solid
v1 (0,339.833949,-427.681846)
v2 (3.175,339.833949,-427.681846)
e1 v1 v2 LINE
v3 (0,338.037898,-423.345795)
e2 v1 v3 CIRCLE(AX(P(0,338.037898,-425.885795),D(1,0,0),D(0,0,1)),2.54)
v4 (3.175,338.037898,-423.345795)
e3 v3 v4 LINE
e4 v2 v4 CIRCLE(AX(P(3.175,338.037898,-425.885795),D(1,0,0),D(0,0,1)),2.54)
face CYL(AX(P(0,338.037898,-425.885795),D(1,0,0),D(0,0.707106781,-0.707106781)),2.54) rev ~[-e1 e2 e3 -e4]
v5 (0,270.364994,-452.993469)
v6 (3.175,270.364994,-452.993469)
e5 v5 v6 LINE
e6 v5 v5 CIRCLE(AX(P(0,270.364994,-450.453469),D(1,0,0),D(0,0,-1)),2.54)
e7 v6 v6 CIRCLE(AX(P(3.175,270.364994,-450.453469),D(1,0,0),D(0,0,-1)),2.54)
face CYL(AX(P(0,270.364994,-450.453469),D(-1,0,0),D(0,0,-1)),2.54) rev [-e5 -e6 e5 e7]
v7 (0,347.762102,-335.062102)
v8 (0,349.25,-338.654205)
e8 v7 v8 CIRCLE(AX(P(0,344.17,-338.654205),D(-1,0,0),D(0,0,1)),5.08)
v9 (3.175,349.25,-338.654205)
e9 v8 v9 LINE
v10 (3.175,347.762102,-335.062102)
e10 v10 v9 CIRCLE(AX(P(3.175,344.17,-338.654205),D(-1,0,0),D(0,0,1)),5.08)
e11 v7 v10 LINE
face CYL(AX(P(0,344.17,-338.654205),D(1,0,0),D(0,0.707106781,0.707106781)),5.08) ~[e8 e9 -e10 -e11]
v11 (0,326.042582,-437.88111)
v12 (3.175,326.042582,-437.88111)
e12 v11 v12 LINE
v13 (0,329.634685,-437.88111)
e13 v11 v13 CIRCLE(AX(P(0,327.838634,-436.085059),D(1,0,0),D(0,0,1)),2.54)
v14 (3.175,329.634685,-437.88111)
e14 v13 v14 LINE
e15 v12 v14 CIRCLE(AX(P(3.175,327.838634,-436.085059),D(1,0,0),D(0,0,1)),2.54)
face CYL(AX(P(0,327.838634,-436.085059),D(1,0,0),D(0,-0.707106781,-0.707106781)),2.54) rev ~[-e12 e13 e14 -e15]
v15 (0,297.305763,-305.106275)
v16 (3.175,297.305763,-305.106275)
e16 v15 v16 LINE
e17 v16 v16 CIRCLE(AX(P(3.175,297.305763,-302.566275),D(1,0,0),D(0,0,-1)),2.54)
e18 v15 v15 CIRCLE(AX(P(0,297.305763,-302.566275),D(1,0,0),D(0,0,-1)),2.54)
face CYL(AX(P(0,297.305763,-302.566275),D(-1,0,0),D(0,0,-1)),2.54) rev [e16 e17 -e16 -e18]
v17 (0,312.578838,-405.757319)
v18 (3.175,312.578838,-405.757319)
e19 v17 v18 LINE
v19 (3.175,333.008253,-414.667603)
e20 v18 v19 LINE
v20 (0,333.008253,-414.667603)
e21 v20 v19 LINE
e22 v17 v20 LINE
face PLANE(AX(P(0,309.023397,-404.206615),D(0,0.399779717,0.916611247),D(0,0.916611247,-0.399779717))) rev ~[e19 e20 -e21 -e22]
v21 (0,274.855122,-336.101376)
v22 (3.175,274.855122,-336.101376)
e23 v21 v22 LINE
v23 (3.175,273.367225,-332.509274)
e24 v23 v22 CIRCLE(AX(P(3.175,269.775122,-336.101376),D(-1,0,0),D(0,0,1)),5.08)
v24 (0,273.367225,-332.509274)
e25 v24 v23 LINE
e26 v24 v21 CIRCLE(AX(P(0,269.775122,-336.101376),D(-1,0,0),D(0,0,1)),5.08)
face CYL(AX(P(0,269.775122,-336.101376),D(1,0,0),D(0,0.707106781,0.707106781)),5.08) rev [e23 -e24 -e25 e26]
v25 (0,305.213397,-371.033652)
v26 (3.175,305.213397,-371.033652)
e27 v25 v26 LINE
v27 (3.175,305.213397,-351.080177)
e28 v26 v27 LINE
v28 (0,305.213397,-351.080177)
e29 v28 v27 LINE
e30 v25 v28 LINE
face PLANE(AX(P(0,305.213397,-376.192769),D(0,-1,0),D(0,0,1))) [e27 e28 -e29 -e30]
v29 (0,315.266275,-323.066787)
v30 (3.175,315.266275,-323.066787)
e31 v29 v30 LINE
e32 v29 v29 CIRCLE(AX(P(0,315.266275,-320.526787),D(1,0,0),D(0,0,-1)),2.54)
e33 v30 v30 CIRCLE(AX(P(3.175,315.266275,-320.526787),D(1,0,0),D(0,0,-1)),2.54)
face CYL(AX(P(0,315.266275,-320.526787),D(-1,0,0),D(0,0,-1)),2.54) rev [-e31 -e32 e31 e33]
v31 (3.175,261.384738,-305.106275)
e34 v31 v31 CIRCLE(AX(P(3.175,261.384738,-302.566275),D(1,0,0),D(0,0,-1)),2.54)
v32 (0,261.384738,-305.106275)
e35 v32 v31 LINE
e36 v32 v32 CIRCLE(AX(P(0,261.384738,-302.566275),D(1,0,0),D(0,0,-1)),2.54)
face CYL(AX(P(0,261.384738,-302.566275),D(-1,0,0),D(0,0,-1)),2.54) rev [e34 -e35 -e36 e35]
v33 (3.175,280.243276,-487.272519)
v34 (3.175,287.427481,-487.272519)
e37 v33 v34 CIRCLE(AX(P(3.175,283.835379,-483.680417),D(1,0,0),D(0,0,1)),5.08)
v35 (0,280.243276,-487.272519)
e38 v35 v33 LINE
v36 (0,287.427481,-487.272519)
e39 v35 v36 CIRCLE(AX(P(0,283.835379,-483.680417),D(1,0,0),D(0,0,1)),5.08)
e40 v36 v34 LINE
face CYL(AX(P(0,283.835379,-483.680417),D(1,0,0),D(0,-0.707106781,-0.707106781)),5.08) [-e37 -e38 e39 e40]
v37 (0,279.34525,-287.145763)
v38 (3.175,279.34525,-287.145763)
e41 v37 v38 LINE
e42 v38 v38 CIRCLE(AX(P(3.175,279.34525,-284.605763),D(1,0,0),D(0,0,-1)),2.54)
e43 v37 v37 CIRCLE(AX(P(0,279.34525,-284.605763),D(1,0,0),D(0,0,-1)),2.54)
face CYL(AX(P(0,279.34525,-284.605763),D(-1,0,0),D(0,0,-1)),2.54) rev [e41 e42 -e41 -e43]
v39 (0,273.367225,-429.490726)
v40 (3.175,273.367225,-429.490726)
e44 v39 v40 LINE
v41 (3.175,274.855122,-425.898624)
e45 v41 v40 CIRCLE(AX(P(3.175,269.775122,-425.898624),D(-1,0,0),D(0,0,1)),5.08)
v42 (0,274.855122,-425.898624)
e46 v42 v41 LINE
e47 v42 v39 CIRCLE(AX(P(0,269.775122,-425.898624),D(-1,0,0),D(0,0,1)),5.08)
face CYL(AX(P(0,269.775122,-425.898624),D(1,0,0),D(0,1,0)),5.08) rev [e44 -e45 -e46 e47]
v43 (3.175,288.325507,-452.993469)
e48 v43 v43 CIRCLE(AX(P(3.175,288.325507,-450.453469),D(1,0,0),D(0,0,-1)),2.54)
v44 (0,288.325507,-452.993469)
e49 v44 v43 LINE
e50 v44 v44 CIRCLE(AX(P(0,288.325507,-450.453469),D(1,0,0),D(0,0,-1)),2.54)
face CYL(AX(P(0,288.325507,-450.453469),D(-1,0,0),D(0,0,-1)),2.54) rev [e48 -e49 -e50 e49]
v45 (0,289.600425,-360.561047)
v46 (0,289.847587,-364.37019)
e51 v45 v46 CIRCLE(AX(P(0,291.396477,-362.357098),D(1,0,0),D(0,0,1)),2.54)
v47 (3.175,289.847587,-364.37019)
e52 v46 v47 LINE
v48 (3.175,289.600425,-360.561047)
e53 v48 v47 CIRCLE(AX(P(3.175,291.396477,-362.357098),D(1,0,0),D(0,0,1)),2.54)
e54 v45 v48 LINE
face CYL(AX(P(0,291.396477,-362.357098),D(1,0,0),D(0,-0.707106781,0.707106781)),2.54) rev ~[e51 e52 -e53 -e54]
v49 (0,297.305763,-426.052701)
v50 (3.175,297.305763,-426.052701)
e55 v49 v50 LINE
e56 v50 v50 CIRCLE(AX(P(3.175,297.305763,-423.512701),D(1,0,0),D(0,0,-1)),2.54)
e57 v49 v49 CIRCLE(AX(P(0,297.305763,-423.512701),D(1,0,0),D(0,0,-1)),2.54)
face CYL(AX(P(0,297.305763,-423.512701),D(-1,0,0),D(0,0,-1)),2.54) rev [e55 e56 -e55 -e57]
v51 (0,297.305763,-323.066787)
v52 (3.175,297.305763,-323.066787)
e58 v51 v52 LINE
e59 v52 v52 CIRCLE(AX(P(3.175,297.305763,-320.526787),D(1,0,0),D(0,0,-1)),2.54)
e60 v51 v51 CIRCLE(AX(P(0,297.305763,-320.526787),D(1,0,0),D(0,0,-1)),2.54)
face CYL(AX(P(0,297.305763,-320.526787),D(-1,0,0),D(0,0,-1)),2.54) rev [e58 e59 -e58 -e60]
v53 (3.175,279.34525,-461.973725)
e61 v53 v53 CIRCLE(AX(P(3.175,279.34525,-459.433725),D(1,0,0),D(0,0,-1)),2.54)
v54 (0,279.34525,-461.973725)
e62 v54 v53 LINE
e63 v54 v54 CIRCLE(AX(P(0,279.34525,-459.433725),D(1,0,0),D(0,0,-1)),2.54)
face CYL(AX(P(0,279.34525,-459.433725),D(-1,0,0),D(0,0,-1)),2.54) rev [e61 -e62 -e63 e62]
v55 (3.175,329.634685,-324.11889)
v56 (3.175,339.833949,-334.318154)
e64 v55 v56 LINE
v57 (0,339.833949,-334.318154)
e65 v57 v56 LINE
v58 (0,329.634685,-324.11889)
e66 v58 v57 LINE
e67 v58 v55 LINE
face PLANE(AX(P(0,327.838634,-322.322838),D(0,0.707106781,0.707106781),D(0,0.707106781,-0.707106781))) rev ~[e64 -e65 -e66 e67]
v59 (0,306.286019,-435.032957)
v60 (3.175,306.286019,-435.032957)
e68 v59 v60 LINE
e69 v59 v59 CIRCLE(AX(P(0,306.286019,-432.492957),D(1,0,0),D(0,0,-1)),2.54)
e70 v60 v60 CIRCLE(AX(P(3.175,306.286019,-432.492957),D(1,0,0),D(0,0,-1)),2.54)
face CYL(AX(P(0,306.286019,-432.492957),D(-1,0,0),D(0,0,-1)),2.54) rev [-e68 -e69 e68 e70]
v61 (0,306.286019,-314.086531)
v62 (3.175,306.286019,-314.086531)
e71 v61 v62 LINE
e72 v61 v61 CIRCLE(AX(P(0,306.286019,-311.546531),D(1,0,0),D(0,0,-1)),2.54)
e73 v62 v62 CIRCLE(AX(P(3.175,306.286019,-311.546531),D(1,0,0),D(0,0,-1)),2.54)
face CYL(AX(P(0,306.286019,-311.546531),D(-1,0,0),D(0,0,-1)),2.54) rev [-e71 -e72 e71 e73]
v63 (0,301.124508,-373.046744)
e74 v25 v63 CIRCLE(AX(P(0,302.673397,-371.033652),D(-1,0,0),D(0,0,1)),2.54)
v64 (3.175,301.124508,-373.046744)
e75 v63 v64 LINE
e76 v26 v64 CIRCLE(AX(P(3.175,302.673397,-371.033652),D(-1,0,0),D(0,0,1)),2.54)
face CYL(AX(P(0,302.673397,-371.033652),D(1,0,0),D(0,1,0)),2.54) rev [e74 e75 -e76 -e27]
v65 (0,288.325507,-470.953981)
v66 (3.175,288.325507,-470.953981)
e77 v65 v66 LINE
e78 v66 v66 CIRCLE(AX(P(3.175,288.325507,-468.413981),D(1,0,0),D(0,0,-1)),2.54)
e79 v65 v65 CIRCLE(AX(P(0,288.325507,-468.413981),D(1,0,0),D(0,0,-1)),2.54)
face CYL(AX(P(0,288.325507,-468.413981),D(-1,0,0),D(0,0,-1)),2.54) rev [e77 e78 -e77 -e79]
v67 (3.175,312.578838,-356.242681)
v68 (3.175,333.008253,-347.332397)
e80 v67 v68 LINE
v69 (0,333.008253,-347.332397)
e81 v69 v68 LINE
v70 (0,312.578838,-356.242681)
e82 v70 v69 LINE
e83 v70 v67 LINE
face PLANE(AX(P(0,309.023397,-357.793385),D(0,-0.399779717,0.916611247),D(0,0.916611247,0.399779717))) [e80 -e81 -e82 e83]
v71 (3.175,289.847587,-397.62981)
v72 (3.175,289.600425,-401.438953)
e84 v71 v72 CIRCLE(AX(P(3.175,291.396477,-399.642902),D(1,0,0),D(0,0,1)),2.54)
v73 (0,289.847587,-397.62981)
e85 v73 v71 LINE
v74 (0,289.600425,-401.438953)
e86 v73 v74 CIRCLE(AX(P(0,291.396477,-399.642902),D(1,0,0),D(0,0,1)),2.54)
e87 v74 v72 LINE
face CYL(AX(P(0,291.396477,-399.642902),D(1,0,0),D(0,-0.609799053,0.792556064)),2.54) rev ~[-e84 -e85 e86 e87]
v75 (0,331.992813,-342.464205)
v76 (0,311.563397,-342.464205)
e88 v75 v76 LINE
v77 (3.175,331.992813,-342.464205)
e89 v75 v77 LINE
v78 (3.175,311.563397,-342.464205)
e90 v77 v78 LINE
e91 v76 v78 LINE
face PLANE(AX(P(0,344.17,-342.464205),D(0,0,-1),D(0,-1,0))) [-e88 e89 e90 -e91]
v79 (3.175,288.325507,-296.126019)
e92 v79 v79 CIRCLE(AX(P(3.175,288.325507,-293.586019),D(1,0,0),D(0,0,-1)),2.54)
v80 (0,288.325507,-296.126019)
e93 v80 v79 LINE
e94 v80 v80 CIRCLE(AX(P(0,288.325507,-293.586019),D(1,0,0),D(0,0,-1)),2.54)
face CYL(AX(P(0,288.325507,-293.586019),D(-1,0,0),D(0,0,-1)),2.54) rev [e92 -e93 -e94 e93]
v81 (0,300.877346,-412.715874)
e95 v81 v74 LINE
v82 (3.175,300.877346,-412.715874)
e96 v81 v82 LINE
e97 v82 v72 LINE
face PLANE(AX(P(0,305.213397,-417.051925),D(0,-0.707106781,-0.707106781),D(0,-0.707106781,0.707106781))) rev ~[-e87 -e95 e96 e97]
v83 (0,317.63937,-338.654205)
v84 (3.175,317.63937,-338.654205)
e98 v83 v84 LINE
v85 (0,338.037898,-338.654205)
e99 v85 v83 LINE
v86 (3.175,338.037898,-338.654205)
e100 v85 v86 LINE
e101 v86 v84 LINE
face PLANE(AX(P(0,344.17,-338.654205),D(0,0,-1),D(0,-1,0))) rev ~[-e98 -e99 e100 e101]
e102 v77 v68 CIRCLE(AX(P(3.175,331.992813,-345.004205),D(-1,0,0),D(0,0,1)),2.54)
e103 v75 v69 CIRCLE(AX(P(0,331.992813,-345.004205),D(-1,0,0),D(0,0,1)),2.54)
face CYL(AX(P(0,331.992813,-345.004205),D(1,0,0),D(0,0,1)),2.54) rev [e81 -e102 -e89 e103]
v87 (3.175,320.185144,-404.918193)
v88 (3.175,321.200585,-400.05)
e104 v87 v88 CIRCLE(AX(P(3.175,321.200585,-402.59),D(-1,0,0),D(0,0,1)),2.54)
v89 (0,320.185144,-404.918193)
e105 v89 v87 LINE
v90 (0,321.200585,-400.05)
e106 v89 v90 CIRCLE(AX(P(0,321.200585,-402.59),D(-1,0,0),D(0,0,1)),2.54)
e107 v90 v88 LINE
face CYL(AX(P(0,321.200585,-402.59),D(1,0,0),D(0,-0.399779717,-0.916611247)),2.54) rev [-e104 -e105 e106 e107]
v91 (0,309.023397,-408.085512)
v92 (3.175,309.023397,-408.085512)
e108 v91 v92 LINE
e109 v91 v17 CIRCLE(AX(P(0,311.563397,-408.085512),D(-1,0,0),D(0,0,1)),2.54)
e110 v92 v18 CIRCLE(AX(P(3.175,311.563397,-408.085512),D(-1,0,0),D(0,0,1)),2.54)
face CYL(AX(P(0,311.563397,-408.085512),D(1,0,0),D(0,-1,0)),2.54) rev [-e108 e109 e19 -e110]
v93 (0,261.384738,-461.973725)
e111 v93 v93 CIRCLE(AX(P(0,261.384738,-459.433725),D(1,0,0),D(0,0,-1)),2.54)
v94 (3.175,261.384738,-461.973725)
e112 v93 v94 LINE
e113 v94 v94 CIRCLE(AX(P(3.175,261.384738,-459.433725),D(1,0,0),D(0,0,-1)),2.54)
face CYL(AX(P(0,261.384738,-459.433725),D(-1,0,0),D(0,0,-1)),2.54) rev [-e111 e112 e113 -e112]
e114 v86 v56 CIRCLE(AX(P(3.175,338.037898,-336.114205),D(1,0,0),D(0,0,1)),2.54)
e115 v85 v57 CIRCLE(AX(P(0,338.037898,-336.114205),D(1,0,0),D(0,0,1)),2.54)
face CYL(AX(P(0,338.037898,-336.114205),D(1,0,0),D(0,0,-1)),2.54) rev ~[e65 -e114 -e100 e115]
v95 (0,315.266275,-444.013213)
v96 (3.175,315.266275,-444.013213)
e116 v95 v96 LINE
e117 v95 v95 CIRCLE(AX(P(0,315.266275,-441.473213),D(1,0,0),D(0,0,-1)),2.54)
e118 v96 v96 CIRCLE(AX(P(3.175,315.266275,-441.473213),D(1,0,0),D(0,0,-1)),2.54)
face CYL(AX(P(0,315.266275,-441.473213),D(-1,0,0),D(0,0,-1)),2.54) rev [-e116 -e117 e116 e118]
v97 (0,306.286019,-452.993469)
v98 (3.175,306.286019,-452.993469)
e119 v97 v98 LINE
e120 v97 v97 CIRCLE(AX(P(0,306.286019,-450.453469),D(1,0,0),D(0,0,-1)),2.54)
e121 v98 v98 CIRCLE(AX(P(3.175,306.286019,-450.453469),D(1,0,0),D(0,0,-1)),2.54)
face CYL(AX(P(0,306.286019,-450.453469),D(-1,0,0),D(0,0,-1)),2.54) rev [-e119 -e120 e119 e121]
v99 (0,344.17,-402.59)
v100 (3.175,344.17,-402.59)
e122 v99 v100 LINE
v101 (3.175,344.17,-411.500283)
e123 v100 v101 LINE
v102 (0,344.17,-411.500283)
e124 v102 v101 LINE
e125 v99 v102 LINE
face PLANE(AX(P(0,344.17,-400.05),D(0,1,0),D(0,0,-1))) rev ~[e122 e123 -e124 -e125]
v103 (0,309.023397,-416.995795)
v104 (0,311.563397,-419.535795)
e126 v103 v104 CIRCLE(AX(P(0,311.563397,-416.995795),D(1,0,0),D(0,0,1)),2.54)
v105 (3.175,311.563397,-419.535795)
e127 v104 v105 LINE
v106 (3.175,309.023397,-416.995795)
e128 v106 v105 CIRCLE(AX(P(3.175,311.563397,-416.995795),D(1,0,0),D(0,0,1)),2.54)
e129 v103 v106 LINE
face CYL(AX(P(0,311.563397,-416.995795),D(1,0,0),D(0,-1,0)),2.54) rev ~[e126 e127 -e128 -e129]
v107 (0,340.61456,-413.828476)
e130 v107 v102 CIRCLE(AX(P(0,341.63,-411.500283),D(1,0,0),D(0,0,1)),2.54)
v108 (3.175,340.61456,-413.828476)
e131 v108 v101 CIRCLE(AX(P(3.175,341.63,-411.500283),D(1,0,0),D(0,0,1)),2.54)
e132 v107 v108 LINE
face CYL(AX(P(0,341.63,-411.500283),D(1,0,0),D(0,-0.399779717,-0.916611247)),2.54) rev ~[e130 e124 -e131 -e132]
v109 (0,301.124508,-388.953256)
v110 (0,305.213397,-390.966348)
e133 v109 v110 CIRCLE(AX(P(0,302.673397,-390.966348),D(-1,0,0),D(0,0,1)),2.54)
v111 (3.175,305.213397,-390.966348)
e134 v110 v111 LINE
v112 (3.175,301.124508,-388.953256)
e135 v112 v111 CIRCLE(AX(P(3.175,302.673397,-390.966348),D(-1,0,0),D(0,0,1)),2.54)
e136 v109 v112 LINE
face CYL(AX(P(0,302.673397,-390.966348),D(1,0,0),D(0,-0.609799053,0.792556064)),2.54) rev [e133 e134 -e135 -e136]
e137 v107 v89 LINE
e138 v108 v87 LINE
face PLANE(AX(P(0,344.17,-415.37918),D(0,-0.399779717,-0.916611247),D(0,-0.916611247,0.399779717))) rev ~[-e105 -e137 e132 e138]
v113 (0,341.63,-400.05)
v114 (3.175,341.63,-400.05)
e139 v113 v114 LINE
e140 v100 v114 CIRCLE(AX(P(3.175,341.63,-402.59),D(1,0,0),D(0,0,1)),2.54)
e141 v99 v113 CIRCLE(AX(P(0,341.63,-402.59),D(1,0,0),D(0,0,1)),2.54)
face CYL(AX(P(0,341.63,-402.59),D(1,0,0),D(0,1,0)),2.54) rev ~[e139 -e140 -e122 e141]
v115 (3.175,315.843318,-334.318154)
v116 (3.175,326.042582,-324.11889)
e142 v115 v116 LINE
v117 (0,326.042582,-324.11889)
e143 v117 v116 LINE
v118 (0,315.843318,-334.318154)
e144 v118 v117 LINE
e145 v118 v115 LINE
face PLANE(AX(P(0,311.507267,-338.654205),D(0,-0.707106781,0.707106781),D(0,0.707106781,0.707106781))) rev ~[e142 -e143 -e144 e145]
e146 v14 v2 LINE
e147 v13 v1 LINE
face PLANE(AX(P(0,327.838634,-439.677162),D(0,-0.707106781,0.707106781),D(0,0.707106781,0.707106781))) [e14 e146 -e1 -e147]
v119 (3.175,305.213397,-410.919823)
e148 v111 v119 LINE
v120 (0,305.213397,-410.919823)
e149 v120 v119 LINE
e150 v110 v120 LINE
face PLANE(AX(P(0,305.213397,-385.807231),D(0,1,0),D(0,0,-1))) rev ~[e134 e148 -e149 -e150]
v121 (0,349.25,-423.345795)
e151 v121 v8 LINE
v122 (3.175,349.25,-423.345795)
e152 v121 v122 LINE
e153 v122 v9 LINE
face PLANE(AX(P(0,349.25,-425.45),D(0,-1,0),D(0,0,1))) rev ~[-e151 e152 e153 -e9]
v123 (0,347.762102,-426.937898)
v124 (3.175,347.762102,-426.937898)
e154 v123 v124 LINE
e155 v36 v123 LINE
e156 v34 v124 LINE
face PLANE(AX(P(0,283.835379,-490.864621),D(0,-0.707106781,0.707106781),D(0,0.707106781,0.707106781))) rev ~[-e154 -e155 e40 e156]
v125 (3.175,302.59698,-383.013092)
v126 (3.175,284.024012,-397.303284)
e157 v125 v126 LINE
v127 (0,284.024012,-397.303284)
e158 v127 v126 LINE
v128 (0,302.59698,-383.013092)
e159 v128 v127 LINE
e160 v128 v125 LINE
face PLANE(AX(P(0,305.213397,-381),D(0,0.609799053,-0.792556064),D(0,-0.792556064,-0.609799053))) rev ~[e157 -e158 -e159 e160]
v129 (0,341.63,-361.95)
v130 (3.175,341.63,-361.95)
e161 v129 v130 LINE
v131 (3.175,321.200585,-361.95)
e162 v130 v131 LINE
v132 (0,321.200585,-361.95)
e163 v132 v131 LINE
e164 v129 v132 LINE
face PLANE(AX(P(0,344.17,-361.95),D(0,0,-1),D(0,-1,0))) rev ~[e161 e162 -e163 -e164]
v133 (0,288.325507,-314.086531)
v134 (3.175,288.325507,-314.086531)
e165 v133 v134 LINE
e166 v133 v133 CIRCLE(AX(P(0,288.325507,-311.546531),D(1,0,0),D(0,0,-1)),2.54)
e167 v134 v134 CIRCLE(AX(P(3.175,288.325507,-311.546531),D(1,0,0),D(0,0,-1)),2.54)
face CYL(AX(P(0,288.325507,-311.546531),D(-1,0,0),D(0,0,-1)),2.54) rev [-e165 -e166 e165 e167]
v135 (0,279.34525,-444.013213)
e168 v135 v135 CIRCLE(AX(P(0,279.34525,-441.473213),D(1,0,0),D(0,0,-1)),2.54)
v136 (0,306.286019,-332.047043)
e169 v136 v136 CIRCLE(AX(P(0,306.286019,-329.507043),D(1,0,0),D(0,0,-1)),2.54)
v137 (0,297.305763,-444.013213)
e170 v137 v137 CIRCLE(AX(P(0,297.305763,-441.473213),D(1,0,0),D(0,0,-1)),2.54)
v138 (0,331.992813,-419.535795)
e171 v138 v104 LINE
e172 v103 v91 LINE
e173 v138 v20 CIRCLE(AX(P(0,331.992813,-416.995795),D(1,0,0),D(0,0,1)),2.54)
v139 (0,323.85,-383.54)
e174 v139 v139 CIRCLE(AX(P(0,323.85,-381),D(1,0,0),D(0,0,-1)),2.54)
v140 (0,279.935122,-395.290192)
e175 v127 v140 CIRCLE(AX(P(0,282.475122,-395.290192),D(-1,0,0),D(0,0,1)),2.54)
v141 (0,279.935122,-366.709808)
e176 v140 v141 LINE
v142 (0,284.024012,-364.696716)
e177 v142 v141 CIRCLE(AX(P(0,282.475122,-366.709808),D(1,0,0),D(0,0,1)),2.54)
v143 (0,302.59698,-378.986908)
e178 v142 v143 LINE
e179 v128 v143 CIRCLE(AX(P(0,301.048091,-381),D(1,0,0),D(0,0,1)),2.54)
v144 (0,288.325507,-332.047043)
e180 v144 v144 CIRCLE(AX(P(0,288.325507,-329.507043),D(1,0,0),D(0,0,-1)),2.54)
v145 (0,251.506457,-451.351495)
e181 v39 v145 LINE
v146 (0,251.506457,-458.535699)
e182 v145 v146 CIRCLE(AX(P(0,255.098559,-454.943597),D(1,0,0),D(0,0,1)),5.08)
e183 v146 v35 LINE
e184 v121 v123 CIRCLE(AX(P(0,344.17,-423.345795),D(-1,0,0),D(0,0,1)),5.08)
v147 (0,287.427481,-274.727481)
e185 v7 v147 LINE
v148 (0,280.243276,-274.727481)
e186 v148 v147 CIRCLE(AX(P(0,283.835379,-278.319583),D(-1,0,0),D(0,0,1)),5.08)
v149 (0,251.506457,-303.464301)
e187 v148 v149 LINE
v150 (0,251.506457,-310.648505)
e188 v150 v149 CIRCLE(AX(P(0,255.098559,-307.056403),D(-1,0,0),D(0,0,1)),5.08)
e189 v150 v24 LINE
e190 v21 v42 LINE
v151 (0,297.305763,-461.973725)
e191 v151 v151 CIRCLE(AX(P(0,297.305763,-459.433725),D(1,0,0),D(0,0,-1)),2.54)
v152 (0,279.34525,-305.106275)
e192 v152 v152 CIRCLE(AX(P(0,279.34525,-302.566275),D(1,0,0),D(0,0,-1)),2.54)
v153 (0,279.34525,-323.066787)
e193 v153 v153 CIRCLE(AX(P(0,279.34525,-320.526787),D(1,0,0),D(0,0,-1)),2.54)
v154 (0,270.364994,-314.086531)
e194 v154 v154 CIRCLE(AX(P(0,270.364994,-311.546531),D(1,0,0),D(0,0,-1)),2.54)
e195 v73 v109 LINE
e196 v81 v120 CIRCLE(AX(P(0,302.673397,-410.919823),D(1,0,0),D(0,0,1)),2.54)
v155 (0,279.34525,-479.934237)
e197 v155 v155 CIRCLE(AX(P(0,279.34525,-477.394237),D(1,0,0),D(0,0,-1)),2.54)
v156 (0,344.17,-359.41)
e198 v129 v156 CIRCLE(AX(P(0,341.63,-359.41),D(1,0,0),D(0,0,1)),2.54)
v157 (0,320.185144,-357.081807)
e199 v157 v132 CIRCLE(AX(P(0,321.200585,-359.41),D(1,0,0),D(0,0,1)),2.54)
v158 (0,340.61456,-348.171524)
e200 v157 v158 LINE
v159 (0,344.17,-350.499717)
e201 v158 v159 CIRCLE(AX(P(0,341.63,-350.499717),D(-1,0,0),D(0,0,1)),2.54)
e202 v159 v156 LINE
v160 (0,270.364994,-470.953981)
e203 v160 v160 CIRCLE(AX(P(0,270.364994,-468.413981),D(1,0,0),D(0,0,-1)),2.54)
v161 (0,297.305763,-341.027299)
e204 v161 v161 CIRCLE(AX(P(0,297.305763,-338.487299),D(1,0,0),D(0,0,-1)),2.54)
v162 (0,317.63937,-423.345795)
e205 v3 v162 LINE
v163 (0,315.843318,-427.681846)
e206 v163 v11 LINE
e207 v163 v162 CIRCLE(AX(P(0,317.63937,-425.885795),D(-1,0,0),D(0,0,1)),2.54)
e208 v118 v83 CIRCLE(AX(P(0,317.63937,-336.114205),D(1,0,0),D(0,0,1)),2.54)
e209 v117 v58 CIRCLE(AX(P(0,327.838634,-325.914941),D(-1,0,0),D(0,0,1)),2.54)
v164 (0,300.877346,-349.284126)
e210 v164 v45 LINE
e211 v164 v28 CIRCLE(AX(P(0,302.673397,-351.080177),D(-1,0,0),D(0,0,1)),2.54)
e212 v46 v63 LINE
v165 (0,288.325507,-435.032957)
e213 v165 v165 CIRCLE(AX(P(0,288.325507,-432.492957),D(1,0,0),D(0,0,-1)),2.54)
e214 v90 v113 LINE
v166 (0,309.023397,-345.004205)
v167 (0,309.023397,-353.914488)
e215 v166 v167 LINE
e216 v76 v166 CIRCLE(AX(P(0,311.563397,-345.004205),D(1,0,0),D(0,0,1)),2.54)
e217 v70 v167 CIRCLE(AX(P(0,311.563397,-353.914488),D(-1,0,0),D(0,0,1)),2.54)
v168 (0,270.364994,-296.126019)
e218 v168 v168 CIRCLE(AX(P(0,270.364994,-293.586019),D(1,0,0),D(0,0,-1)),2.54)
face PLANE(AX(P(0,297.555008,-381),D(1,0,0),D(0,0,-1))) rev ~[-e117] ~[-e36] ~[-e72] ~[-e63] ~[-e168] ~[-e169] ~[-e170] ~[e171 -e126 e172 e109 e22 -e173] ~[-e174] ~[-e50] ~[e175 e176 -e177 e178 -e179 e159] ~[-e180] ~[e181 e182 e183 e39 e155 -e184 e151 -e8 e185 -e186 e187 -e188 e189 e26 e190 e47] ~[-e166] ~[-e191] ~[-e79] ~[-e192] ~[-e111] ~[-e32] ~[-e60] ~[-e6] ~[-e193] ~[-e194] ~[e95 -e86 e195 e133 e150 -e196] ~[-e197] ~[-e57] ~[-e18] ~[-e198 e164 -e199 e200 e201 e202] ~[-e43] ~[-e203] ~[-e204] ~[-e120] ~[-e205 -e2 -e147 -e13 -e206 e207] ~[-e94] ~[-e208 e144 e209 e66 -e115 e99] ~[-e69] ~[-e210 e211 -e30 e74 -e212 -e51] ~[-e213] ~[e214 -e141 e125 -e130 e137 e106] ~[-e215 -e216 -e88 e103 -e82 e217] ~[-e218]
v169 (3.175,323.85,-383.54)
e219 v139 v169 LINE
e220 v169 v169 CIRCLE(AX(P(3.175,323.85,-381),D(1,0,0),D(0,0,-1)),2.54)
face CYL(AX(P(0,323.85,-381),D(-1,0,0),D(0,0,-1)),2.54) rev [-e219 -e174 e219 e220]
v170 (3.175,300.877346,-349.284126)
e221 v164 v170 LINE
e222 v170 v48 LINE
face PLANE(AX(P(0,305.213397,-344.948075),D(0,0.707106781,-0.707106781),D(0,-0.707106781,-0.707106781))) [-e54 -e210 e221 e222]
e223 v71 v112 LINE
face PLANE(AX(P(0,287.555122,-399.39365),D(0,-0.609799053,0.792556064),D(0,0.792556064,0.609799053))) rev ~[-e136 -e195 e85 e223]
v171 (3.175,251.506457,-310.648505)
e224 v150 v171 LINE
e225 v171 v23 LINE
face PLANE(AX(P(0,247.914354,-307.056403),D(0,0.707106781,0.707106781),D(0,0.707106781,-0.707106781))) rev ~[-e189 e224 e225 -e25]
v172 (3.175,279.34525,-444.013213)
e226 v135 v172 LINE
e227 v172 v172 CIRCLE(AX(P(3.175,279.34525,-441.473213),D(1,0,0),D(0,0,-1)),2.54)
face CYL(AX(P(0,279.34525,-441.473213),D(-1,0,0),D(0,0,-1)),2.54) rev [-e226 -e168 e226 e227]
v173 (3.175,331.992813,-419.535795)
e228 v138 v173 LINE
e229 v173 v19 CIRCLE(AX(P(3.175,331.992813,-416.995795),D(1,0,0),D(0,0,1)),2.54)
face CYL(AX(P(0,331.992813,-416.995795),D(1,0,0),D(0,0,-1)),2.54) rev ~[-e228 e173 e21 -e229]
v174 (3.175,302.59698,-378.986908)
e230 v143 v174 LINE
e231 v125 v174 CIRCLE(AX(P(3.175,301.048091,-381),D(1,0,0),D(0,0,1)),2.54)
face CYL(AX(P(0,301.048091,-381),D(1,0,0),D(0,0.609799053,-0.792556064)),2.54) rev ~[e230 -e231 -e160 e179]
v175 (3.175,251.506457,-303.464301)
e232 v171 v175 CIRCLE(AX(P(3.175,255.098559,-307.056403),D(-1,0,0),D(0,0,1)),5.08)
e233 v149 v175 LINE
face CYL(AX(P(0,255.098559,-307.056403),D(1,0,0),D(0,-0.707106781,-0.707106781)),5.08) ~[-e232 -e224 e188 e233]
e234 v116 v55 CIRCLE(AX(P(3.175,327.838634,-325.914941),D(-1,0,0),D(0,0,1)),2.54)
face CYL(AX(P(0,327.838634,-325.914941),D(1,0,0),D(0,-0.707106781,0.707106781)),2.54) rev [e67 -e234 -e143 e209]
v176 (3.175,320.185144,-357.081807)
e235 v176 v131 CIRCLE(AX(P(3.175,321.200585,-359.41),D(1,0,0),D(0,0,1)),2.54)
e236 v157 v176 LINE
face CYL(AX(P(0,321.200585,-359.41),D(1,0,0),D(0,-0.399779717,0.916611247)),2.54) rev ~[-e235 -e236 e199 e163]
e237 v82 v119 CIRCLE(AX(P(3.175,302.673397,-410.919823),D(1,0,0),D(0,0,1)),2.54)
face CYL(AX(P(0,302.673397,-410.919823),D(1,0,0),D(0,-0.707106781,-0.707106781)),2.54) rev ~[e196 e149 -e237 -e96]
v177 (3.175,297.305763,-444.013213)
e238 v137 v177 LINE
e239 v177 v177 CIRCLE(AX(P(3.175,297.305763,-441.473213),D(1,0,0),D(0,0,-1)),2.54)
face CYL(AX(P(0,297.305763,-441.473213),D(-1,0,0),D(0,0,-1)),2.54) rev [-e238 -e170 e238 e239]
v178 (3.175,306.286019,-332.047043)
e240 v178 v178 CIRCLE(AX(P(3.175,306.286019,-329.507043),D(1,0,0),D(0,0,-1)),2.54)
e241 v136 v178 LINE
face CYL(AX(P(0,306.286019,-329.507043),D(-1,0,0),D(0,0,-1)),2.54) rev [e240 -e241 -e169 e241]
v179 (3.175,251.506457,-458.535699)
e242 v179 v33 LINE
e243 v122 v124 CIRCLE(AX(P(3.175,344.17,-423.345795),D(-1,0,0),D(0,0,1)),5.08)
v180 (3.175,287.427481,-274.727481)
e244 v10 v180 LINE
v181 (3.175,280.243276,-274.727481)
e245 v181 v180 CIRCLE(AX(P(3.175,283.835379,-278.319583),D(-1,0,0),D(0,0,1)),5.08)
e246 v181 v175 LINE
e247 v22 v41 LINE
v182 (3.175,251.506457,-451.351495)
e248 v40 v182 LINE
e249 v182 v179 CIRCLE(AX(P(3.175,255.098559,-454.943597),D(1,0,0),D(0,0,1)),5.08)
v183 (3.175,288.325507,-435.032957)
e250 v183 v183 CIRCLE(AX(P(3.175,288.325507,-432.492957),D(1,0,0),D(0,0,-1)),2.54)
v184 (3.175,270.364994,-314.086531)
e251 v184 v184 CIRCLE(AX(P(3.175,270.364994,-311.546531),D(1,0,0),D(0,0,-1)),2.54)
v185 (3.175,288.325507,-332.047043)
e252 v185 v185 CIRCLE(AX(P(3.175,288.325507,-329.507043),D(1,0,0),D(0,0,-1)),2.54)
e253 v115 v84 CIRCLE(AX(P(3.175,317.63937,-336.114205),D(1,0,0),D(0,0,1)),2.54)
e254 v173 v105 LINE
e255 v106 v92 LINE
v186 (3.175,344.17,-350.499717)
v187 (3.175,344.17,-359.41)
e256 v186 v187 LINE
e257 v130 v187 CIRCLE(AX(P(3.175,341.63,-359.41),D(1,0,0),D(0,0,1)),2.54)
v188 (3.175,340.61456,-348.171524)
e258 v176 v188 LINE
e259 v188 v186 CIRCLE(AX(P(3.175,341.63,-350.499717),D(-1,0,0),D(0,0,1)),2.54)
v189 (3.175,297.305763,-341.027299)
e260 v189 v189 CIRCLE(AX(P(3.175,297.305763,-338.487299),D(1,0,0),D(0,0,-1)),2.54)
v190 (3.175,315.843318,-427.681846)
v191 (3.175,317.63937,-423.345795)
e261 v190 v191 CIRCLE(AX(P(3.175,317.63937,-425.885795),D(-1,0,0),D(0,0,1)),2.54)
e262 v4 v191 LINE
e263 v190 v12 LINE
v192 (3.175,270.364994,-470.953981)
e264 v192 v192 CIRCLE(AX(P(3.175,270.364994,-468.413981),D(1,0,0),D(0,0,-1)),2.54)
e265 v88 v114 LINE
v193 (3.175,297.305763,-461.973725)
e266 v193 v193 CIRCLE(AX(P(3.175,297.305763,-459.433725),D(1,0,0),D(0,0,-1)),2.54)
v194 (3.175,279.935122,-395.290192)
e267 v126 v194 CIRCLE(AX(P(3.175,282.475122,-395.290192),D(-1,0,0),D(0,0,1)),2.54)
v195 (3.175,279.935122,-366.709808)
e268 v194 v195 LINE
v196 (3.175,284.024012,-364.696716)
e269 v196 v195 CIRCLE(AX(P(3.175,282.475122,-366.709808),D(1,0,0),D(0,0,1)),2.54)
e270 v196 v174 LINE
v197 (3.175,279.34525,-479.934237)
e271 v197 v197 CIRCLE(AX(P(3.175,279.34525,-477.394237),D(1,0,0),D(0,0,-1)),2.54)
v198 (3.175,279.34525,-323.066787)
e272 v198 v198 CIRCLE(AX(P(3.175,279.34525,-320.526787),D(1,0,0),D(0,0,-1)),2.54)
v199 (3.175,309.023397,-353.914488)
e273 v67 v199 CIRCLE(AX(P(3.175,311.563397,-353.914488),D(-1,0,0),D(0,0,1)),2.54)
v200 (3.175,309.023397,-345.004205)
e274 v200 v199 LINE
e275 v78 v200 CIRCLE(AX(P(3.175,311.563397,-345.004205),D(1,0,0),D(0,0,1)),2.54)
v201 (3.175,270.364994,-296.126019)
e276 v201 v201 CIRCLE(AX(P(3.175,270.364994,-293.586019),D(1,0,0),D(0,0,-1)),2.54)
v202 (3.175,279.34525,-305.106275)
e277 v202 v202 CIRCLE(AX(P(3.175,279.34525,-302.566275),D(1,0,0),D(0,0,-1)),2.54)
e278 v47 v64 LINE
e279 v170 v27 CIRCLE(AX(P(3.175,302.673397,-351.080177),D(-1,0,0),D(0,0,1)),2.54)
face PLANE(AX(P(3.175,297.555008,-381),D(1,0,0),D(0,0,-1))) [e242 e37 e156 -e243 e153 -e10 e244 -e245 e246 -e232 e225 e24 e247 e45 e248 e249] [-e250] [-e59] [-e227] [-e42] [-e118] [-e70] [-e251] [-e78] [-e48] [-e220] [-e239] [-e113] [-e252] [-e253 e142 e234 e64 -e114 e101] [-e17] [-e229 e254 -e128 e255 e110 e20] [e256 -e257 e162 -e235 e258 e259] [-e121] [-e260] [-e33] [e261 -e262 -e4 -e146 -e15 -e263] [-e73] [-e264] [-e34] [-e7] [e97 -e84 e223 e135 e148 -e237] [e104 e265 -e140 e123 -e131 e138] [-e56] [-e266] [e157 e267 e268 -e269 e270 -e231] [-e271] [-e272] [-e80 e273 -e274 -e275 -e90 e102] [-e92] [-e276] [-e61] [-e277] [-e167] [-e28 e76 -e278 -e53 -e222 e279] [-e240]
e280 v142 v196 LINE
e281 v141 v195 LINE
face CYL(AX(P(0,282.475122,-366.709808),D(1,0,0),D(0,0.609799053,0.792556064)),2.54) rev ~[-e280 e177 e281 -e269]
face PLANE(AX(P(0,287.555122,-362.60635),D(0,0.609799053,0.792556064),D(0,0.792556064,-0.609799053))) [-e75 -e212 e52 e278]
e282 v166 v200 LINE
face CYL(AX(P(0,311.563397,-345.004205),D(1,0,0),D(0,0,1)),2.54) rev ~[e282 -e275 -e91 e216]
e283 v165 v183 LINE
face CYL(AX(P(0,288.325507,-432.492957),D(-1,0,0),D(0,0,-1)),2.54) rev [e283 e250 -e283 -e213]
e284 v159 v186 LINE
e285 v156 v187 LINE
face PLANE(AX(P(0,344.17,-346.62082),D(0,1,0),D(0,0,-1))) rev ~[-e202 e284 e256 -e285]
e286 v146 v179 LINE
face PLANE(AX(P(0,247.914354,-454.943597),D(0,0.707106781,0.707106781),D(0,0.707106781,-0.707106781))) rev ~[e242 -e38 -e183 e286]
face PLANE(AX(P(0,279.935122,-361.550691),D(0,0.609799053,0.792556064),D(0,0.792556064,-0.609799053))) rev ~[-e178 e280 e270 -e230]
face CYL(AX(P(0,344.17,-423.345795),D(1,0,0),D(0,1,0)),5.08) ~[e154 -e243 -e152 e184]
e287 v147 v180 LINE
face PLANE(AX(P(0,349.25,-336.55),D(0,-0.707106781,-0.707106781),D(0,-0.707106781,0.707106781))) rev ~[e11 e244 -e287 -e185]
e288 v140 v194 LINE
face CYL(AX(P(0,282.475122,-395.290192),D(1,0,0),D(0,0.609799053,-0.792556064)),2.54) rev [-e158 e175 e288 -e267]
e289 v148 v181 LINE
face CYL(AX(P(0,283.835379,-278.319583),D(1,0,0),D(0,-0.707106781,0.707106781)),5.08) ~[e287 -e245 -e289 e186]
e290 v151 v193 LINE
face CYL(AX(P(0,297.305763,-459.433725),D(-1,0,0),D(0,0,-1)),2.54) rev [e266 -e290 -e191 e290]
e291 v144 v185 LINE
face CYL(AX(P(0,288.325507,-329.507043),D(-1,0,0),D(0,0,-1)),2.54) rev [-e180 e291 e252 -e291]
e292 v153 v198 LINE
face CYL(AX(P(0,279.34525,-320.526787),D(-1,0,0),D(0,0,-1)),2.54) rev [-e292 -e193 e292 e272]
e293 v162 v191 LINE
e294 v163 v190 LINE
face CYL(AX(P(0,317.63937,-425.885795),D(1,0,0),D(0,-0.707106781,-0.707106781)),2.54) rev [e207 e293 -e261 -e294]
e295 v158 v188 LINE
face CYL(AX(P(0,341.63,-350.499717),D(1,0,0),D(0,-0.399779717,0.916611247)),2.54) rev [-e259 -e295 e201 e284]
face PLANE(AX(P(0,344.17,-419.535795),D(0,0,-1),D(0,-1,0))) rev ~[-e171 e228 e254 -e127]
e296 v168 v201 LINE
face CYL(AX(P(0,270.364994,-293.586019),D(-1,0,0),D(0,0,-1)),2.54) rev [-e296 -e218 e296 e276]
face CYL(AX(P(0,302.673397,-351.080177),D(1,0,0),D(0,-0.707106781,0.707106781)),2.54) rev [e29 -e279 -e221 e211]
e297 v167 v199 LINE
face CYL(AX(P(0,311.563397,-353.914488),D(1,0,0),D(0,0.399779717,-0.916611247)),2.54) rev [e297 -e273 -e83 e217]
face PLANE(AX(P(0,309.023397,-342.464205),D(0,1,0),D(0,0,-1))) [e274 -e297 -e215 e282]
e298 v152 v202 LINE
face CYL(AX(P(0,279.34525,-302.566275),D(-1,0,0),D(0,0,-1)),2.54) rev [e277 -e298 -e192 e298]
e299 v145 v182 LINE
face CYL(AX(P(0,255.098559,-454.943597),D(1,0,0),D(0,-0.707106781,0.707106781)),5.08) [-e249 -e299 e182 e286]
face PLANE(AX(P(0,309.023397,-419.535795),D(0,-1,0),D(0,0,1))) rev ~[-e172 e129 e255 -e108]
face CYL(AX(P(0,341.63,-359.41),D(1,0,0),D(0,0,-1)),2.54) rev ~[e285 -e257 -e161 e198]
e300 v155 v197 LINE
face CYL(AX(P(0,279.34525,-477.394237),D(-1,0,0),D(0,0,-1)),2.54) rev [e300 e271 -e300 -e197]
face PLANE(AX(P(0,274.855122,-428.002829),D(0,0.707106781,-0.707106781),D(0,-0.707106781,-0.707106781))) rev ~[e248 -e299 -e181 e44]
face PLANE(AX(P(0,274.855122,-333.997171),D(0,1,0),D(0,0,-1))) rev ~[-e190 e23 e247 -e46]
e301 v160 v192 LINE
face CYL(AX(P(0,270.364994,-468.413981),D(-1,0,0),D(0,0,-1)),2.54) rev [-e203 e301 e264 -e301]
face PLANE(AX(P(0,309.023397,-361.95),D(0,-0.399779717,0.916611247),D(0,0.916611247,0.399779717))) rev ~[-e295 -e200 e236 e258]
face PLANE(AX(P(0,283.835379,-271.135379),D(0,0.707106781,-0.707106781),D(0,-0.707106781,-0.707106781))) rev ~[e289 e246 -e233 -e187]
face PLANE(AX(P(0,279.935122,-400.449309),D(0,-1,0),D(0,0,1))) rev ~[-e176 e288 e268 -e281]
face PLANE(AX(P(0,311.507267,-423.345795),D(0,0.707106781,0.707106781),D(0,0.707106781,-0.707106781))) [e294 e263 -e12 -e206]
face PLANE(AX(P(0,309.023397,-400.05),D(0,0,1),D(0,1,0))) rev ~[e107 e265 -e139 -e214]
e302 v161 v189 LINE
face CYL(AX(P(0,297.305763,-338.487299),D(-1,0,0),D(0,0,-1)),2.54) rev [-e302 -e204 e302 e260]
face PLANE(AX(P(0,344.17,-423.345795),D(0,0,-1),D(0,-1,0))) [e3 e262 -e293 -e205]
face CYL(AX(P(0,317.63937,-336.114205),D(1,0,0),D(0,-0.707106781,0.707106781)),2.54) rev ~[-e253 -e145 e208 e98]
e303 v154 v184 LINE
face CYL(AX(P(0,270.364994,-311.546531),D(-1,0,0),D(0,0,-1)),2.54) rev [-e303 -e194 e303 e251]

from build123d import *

# Parameters (mm, degrees)
SKETCH7_R           = 2.54
BOSS_EXTRUDE1_DEPTH = 3.175
FILLET1_R           = 2.54
FILLET2_R           = 5.08


with BuildPart() as part:
    # Sketch7 → Boss-Extrude1 (new body)
    with BuildSketch(Plane(origin=(0, 0, 0), x_dir=(0, 0, -1), z_dir=(1, 0, 0))):
        Polygon((307.056403027, 247.914354058), (333.99717139, 274.855122421), (428.00282861, 274.855122421), (454.943596973, 247.914354058), (490.864621458, 283.835378542), (425.45, 349.25), (336.55, 349.25), (271.135378542, 283.835378542), align=None)
        with Locations((284.605762724, 279.345250482)):
            Circle(SKETCH7_R, mode=Mode.SUBTRACT)
        with Locations((293.586018845, 288.325506603)):
            Circle(SKETCH7_R, mode=Mode.SUBTRACT)
        with Locations((302.566274966, 297.305762724)):
            Circle(SKETCH7_R, mode=Mode.SUBTRACT)
        with Locations((311.546531087, 306.286018845)):
            Circle(SKETCH7_R, mode=Mode.SUBTRACT)
        with Locations((320.526787208, 315.266274966)):
            Circle(SKETCH7_R, mode=Mode.SUBTRACT)
        with Locations((302.566274966, 279.345250482)):
            Circle(SKETCH7_R, mode=Mode.SUBTRACT)
        with Locations((311.546531087, 288.325506603)):
            Circle(SKETCH7_R, mode=Mode.SUBTRACT)
        with Locations((320.526787208, 297.305762724)):
            Circle(SKETCH7_R, mode=Mode.SUBTRACT)
        with Locations((329.507043329, 306.286018845)):
            Circle(SKETCH7_R, mode=Mode.SUBTRACT)
        with Locations((311.546531087, 270.364994361)):
            Circle(SKETCH7_R, mode=Mode.SUBTRACT)
        with Locations((320.526787208, 279.345250482)):
            Circle(SKETCH7_R, mode=Mode.SUBTRACT)
        with Locations((329.507043329, 288.325506603)):
            Circle(SKETCH7_R, mode=Mode.SUBTRACT)
        with Locations((338.48729945, 297.305762724)):
            Circle(SKETCH7_R, mode=Mode.SUBTRACT)
        with Locations((293.586018845, 270.364994361)):
            Circle(SKETCH7_R, mode=Mode.SUBTRACT)
        with Locations((302.566274966, 261.38473824)):
            Circle(SKETCH7_R, mode=Mode.SUBTRACT)
        with Locations((477.394237276, 279.345250482)):
            Circle(SKETCH7_R, mode=Mode.SUBTRACT)
        with Locations((468.413981155, 288.325506603)):
            Circle(SKETCH7_R, mode=Mode.SUBTRACT)
        with Locations((459.433725034, 297.305762724)):
            Circle(SKETCH7_R, mode=Mode.SUBTRACT)
        with Locations((450.453468913, 306.286018845)):
            Circle(SKETCH7_R, mode=Mode.SUBTRACT)
        with Locations((441.473212792, 315.266274966)):
            Circle(SKETCH7_R, mode=Mode.SUBTRACT)
        with Locations((459.433725034, 279.345250482)):
            Circle(SKETCH7_R, mode=Mode.SUBTRACT)
        with Locations((450.453468913, 288.325506603)):
            Circle(SKETCH7_R, mode=Mode.SUBTRACT)
        with Locations((441.473212792, 297.305762724)):
            Circle(SKETCH7_R, mode=Mode.SUBTRACT)
        with Locations((432.492956671, 306.286018845)):
            Circle(SKETCH7_R, mode=Mode.SUBTRACT)
        with Locations((450.453468913, 270.364994361)):
            Circle(SKETCH7_R, mode=Mode.SUBTRACT)
        with Locations((441.473212792, 279.345250482)):
            Circle(SKETCH7_R, mode=Mode.SUBTRACT)
        with Locations((432.492956671, 288.325506603)):
            Circle(SKETCH7_R, mode=Mode.SUBTRACT)
        with Locations((423.51270055, 297.305762724)):
            Circle(SKETCH7_R, mode=Mode.SUBTRACT)
        with Locations((468.413981155, 270.364994361)):
            Circle(SKETCH7_R, mode=Mode.SUBTRACT)
        with Locations((459.433725034, 261.38473824)):
            Circle(SKETCH7_R, mode=Mode.SUBTRACT)
        with Locations((381, 323.85)):
            Circle(SKETCH7_R, mode=Mode.SUBTRACT)
        Polygon((322.322838433, 327.838633536), (338.654204897, 344.17), (338.654204897, 311.507267071), align=None, mode=Mode.SUBTRACT)
        Polygon((342.464204897, 344.17), (342.464204897, 309.023397149), (357.793385063, 309.023397149), align=None, mode=Mode.SUBTRACT)
        Polygon((346.620819834, 344.17), (361.95, 344.17), (361.95, 309.023397149), align=None, mode=Mode.SUBTRACT)
        Polygon((344.94807482, 305.213397149), (362.606349547, 287.555122421), (376.192769102, 305.213397149), align=None, mode=Mode.SUBTRACT)
        Polygon((400.449309255, 279.935122421), (361.550690745, 279.935122421), (381, 305.213397149), align=None, mode=Mode.SUBTRACT)
        Polygon((400.05, 309.023397149), (400.05, 344.17), (415.379180166, 344.17), align=None, mode=Mode.SUBTRACT)
        Polygon((385.807230898, 305.213397149), (417.05192518, 305.213397149), (399.393650453, 287.555122421), align=None, mode=Mode.SUBTRACT)
        Polygon((404.206614937, 309.023397149), (419.535795103, 344.17), (419.535795103, 309.023397149), align=None, mode=Mode.SUBTRACT)
        Polygon((423.345795103, 311.507267071), (439.677161567, 327.838633536), (423.345795103, 344.17), align=None, mode=Mode.SUBTRACT)
    extrude(amount=BOSS_EXTRUDE1_DEPTH)

    # Fillet1
    fillet1_edges = [part.edges().sort_by_distance(p)[0] for p in [
        (1.5875, 309.023397149, -404.206614937),
        (1.5875, 309.023397149, -419.535795103),
        (1.5875, 344.17, -419.535795103),
        (1.5875, 305.213397149, -385.807230898),
        (1.5875, 287.555122421, -399.393650453),
        (1.5875, 305.213397149, -417.05192518),
        (1.5875, 344.17, -338.654204897),
        (1.5875, 327.838633536, -322.322838433),
        (1.5875, 311.507267071, -338.654204897),
        (1.5875, 344.17, -342.464204897),
        (1.5875, 309.023397149, -342.464204897),
        (1.5875, 309.023397149, -357.793385063),
        (1.5875, 305.213397149, -344.94807482),
        (1.5875, 287.555122421, -362.606349547),
        (1.5875, 305.213397149, -376.192769102),
        (1.5875, 344.17, -361.95),
        (1.5875, 344.17, -346.620819834),
        (1.5875, 309.023397149, -361.95),
        (1.5875, 305.213397149, -381),
        (1.5875, 279.935122421, -361.550690745),
        (1.5875, 279.935122421, -400.449309255),
        (1.5875, 344.17, -400.05),
        (1.5875, 309.023397149, -400.05),
        (1.5875, 344.17, -415.379180166),
        (1.5875, 344.17, -423.345795103),
        (1.5875, 311.507267071, -423.345795103),
        (1.5875, 327.838633536, -439.677161567),
    ]]
    fillet(fillet1_edges, radius=FILLET1_R)

    # Fillet2
    fillet2_edges = [part.edges().sort_by_distance(p)[0] for p in [
        (1.5875, 349.25, -425.45),
        (1.5875, 283.835378542, -490.864621458),
        (1.5875, 247.914354058, -454.943596973),
        (1.5875, 274.855122421, -428.00282861),
        (1.5875, 274.855122421, -333.99717139),
        (1.5875, 247.914354058, -307.056403027),
        (1.5875, 283.835378542, -271.135378542),
        (1.5875, 349.25, -336.55),
    ]]
    fillet(fillet2_edges, radius=FILLET2_R)


solid = part.part
